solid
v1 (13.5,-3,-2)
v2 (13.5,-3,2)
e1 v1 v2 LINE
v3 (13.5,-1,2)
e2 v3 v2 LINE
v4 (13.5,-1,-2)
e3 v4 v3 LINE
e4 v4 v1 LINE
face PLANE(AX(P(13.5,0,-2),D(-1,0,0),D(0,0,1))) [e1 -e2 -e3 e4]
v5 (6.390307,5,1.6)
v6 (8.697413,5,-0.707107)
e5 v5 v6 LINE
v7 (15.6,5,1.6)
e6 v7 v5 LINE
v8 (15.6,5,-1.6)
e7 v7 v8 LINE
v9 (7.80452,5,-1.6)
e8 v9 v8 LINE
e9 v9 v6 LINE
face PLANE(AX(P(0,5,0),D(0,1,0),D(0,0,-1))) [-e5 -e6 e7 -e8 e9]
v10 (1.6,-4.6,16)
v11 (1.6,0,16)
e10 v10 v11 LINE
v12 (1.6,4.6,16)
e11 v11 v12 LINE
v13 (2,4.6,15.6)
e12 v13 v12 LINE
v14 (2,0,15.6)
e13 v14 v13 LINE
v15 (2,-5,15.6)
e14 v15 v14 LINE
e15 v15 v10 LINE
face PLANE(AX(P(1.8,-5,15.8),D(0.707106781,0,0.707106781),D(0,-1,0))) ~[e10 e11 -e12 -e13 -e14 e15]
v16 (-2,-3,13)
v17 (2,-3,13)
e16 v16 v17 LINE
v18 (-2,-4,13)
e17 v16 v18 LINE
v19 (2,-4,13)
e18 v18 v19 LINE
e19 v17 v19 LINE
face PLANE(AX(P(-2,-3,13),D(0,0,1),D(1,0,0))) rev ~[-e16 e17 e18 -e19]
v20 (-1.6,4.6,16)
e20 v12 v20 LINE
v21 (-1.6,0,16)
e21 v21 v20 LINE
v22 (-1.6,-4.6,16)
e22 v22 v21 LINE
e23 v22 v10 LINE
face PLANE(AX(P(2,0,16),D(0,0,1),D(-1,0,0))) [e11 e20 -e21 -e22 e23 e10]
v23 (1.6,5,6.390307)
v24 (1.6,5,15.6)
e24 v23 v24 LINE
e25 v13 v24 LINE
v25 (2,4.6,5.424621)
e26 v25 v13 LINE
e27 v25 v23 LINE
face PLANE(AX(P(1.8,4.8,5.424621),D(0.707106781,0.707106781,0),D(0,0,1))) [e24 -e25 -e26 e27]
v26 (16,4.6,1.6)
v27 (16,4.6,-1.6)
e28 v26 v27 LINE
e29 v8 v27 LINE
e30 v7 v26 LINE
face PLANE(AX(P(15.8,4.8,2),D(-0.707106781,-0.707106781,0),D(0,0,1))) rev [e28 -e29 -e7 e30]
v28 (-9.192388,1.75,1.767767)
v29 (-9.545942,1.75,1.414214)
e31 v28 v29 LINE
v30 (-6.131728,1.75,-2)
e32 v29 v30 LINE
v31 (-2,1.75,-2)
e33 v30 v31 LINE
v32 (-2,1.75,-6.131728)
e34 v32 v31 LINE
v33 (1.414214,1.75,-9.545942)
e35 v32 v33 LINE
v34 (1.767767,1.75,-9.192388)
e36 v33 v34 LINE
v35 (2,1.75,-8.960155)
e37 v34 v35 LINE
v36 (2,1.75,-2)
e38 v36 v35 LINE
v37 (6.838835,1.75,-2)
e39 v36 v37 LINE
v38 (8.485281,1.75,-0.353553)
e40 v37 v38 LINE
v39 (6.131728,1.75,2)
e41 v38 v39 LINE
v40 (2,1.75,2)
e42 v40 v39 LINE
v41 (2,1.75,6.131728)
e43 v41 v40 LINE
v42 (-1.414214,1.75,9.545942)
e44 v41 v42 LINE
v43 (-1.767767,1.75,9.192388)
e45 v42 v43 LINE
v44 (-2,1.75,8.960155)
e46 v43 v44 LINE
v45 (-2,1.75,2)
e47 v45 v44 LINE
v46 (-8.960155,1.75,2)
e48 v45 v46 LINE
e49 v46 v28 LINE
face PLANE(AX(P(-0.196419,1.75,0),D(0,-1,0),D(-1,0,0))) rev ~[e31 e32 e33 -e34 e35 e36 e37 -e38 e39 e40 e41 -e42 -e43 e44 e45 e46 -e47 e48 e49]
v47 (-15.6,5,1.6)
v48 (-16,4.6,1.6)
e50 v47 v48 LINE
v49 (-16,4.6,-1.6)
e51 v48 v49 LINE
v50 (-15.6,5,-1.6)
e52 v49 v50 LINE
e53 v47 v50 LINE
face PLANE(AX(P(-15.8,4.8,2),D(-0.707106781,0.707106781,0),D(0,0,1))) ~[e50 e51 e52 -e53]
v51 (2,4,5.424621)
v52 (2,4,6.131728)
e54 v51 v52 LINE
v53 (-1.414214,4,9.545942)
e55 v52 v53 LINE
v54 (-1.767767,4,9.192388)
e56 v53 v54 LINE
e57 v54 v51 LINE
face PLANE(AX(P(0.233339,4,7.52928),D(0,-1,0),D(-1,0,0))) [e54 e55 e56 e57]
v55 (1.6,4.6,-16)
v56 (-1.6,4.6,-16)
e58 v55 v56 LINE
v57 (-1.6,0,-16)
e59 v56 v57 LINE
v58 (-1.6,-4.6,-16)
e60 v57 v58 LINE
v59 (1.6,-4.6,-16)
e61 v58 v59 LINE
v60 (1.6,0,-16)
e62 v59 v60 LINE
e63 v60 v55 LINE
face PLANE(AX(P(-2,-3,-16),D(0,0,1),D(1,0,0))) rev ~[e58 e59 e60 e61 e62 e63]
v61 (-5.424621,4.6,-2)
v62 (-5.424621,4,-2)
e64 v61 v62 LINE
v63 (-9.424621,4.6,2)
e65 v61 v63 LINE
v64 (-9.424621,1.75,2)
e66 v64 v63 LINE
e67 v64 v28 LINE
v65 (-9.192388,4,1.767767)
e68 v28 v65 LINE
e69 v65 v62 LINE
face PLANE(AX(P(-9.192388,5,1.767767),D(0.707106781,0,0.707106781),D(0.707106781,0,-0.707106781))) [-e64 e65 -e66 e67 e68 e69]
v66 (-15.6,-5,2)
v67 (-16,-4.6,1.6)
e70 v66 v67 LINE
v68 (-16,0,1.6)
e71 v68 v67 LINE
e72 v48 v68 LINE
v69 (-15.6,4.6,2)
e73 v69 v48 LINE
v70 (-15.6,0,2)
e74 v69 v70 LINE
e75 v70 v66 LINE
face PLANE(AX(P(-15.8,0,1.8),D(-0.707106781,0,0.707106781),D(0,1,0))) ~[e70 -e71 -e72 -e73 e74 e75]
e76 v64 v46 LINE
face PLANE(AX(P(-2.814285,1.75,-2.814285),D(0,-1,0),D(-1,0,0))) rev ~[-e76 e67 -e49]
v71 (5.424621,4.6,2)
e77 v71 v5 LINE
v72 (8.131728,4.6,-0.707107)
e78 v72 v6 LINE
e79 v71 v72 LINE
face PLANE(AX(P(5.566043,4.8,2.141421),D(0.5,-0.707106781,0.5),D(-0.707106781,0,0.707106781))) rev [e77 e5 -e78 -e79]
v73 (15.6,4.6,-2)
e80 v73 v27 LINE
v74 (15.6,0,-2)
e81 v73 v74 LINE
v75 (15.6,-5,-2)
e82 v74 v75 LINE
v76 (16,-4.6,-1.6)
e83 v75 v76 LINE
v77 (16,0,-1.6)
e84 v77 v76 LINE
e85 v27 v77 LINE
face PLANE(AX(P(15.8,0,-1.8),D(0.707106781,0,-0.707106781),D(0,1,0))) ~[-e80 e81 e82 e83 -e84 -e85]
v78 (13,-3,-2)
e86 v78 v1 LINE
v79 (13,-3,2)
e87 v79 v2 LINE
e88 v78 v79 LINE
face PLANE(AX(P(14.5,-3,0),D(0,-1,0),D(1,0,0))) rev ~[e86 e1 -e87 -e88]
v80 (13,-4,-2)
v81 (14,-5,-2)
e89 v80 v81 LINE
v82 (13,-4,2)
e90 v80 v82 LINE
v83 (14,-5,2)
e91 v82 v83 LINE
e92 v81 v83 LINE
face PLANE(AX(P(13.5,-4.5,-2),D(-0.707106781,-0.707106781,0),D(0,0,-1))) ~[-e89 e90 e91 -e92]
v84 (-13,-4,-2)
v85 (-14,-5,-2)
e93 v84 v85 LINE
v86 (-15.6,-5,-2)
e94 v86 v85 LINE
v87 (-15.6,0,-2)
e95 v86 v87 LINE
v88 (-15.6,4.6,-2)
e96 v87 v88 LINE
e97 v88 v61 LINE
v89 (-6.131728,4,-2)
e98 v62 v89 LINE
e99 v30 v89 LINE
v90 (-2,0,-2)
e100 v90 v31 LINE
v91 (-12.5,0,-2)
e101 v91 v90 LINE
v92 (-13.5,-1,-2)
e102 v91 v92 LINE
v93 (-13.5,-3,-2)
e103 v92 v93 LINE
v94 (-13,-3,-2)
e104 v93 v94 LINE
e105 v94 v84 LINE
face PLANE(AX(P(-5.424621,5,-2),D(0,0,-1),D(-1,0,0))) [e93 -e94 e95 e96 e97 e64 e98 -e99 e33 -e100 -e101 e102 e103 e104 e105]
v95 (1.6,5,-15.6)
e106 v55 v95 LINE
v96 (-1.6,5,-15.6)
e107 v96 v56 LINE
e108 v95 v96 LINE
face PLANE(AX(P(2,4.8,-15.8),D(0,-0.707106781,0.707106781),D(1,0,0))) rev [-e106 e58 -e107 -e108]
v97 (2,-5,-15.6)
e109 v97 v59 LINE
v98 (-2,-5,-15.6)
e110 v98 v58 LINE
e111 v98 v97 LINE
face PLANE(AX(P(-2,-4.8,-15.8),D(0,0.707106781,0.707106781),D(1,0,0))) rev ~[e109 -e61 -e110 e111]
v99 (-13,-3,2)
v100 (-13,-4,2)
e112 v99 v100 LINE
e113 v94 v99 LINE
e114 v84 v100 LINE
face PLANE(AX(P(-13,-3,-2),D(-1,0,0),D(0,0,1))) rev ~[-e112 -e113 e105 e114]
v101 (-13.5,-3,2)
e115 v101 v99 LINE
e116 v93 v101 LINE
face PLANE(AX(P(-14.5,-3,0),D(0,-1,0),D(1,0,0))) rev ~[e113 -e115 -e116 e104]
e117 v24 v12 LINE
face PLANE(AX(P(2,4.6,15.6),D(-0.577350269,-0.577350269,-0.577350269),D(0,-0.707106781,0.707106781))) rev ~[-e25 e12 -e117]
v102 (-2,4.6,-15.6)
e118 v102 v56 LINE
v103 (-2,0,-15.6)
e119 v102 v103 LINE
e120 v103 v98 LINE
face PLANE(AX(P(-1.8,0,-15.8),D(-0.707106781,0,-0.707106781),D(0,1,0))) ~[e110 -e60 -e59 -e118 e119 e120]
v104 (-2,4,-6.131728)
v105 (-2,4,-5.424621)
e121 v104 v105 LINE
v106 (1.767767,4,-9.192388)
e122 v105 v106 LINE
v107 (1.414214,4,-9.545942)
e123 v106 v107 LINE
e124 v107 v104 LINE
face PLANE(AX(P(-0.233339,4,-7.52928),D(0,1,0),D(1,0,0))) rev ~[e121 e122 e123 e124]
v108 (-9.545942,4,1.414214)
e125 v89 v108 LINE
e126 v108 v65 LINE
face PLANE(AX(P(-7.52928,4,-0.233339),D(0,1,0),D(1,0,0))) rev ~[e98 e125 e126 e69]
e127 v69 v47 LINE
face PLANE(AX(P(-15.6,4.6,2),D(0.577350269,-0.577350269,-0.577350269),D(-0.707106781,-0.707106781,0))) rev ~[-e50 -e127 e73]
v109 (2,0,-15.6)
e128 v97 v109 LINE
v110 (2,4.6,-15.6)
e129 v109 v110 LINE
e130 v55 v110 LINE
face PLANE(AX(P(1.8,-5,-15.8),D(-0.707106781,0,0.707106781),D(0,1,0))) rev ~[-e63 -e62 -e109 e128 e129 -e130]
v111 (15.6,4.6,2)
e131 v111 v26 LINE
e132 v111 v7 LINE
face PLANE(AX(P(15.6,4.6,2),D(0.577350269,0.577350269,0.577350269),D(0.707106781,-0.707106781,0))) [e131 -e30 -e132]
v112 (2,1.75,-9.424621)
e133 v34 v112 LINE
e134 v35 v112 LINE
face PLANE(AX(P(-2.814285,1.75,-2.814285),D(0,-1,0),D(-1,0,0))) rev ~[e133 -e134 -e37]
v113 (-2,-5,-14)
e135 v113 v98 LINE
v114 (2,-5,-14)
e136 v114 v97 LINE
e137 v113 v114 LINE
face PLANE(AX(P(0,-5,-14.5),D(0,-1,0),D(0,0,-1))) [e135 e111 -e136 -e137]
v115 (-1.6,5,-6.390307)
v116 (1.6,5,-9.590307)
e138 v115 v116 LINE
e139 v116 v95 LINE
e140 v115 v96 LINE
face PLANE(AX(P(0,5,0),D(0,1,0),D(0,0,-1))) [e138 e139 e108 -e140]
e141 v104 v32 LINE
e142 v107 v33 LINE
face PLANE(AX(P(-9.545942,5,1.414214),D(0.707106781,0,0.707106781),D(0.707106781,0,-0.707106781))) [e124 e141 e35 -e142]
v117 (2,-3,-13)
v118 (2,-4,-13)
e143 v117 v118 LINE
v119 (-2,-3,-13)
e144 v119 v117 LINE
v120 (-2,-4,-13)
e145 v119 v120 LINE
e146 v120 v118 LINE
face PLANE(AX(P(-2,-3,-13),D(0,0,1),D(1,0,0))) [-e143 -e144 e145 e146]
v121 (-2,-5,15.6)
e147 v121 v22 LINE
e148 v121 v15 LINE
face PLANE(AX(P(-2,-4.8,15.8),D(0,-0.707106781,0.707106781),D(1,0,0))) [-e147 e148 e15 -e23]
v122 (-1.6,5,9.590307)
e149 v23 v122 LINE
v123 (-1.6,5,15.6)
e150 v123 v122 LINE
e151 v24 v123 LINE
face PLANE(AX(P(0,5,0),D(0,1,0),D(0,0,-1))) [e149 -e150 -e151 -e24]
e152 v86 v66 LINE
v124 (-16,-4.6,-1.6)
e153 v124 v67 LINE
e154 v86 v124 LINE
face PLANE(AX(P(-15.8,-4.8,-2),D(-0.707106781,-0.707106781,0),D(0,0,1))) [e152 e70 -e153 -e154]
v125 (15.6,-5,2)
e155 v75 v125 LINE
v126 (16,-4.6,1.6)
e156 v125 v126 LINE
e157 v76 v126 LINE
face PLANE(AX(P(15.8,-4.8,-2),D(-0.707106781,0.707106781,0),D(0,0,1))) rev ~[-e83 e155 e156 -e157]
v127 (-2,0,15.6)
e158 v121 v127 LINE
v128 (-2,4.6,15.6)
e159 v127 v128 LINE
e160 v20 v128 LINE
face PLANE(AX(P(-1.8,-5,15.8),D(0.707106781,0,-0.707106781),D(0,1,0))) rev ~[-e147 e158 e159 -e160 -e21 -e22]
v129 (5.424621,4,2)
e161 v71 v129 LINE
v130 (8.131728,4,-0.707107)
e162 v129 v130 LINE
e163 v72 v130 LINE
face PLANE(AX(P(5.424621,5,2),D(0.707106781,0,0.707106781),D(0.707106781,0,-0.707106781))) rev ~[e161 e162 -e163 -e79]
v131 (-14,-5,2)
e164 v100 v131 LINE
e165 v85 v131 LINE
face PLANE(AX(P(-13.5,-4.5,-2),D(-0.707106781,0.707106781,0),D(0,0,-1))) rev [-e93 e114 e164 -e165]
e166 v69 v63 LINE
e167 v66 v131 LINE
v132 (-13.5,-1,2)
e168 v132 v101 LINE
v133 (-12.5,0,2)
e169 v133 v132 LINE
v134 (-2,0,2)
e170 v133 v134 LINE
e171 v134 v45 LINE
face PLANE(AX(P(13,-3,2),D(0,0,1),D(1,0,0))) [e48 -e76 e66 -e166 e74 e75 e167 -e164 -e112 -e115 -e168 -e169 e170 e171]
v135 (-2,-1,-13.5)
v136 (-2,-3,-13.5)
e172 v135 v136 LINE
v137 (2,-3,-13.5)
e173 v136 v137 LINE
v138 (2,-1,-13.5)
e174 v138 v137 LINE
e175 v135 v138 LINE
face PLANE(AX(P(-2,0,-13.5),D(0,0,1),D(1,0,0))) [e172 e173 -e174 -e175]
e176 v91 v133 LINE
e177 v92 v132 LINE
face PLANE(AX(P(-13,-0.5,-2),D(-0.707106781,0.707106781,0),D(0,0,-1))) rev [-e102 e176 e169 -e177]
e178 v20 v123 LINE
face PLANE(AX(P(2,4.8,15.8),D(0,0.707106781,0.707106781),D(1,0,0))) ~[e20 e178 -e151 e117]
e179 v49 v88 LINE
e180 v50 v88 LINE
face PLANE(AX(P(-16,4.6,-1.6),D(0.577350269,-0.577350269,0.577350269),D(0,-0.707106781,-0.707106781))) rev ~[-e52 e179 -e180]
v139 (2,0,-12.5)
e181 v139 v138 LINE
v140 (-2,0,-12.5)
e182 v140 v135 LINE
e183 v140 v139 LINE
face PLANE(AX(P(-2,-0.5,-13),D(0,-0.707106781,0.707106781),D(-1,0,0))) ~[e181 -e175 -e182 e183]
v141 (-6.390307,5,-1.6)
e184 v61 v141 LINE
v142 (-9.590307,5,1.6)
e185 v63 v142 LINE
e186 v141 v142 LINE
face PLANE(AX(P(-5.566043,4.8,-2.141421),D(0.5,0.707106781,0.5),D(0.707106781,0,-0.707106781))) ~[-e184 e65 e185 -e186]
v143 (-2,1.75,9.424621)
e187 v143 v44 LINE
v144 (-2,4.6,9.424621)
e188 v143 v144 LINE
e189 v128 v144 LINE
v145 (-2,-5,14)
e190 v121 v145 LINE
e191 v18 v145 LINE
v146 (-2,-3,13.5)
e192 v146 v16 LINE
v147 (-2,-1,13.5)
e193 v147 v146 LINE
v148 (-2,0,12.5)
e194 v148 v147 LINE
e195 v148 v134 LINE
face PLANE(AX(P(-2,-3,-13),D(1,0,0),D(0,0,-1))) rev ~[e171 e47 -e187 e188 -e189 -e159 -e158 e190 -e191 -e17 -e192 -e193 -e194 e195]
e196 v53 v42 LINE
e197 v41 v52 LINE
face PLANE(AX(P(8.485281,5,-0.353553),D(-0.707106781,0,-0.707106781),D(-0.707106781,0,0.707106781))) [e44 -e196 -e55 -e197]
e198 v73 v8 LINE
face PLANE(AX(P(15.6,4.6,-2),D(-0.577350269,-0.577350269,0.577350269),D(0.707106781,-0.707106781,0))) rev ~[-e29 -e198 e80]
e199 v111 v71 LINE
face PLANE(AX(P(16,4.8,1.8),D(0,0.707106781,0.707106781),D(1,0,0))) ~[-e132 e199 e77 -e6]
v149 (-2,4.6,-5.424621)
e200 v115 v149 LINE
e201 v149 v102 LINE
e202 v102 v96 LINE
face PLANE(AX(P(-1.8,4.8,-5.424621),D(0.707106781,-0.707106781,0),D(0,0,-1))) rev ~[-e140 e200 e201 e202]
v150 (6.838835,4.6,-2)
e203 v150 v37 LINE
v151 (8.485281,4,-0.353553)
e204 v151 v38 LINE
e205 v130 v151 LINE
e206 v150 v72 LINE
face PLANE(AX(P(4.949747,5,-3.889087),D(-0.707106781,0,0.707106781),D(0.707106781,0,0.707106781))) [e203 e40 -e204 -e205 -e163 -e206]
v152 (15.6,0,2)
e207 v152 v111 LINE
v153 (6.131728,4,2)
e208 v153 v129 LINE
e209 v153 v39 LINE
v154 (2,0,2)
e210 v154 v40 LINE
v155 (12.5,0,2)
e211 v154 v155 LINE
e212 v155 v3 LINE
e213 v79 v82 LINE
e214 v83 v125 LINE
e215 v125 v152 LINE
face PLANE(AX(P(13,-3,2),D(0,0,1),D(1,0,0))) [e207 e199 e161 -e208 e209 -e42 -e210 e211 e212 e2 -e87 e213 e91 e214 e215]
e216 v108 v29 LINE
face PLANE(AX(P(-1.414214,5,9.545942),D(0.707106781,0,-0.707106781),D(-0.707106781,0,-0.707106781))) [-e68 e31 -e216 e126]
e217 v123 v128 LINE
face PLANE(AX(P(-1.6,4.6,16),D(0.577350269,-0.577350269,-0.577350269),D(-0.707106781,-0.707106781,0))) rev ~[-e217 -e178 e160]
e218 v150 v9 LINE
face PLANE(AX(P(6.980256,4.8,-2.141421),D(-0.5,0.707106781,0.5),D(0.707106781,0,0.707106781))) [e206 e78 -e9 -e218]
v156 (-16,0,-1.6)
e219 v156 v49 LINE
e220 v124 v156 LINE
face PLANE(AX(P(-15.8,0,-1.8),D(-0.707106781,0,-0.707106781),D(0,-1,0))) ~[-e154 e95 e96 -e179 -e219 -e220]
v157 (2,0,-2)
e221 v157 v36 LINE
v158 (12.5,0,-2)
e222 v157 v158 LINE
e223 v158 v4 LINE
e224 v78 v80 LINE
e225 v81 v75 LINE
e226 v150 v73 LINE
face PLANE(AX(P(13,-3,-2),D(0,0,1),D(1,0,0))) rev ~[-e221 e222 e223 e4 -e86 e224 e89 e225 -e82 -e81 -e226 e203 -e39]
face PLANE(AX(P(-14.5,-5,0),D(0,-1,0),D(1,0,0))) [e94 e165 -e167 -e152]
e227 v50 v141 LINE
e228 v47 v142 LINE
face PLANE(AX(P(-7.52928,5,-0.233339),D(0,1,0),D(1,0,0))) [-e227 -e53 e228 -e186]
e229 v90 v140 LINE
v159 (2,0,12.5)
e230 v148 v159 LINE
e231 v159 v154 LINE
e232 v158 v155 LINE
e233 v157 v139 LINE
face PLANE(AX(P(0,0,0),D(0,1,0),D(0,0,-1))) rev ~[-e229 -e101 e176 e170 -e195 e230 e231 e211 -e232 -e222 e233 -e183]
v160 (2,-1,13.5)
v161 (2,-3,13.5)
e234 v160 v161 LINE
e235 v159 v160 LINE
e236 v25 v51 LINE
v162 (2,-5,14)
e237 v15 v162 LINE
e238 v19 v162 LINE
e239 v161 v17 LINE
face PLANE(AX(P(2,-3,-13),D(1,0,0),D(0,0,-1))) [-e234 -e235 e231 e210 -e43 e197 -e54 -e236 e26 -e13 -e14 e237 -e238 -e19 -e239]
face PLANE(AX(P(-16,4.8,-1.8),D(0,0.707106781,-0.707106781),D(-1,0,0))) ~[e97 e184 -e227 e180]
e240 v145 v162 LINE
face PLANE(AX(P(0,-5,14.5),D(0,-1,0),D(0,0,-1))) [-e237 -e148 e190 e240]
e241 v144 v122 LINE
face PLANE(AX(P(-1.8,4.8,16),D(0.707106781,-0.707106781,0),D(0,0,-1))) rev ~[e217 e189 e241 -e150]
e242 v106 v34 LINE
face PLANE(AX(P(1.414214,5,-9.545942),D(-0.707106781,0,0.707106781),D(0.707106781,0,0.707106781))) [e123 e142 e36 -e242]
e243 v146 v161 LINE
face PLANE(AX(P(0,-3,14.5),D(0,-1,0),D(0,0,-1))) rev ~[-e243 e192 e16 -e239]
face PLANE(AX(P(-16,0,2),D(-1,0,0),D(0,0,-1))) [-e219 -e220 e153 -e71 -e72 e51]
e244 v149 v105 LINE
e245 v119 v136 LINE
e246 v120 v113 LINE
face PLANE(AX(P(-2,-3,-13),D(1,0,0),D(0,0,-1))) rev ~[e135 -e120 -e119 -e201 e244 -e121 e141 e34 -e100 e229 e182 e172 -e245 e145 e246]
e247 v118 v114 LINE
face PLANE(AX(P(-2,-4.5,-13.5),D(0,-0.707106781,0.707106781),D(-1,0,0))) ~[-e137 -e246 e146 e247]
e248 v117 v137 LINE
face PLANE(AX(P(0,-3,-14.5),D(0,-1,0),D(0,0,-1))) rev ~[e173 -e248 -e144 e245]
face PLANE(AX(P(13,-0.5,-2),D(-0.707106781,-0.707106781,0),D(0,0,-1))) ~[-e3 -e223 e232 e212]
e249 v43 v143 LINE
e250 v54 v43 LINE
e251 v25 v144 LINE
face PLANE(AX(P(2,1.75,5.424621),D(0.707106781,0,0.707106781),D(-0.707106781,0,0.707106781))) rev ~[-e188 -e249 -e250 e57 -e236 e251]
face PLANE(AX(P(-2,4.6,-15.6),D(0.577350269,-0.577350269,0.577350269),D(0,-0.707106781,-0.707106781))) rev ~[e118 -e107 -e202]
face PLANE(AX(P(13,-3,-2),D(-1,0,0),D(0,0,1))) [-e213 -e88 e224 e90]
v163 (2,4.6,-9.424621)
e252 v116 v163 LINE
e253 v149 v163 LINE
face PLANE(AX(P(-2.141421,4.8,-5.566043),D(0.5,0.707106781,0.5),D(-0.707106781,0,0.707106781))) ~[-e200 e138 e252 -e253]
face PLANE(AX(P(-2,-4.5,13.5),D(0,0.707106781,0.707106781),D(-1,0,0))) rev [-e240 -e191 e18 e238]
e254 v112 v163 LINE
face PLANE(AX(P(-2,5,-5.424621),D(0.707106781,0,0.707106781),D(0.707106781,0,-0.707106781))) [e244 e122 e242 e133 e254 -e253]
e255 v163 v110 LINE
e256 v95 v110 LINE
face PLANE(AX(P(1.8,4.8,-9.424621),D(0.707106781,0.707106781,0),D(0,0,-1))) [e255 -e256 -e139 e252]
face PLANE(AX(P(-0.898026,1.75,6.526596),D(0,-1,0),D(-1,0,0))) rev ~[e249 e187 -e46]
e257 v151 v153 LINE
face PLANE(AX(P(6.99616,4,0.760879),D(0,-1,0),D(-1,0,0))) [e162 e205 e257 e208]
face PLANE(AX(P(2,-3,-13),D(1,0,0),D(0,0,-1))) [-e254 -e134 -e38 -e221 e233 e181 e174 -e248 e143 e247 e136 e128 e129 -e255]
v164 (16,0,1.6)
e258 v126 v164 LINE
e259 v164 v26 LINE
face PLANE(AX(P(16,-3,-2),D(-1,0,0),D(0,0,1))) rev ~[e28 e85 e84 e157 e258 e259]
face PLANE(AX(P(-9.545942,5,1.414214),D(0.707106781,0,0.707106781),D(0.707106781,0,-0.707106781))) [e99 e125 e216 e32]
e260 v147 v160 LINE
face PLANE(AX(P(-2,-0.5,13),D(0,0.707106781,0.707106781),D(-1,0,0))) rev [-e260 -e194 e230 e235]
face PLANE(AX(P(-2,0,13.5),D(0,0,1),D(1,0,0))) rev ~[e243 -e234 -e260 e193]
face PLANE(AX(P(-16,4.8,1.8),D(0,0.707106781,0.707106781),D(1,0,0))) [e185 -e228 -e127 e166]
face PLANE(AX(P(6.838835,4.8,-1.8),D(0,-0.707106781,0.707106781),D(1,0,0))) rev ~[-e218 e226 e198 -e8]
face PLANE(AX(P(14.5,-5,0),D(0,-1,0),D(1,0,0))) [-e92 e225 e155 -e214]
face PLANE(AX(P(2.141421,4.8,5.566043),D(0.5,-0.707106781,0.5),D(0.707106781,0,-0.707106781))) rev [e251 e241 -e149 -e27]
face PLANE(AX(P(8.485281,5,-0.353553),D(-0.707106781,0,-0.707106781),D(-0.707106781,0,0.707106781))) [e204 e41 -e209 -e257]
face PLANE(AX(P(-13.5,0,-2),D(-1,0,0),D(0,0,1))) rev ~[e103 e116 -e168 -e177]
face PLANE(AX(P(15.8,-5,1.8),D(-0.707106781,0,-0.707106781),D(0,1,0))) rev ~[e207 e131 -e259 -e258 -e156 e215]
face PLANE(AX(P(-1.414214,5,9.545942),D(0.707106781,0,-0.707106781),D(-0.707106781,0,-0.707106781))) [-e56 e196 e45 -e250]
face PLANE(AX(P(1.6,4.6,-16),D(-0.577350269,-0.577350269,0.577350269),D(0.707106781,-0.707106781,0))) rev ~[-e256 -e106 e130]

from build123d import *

# Parameters (mm, degrees)
SKETCH1_W               = 31.999999976
SKETCH1_H               = 4
BOSS_EXTRUDE1_DEPTH     = 5
SKETCH2_W               = 2.499999921
SKETCH2_H               = 4
BOSS_EXTRUDE2_DEPTH     = 3
SKETCH3_W               = 2.999999921
SKETCH3_H               = 4
BOSS_EXTRUDE3_DEPTH     = 2
CIRPATTERN1_COUNT       = 2
CIRPATTERN1_ANGLE       = 90
CUT_EXTRUDE1_DEPTH      = 3.250000112
BOSS_EXTRUDE4_DEPTH     = 1
CUT_EXTRUDE_THIN1_START = -3.25
CUT_EXTRUDE_THIN1_DEPTH = 3.25
CUT_EXTRUDE_THIN2_START = -3.25
CUT_EXTRUDE_THIN2_DEPTH = 3.25
CHAMFER2_SIZE           = 1
CHAMFER3_SIZE           = 0.4


with BuildPart() as part:
    # Sketch1 → Boss-Extrude1 (new body)
    with BuildSketch(Plane(origin=(0, 0, 0), x_dir=(1, 0, 0), z_dir=(0, 1, 0))):
        Rectangle(SKETCH1_W, SKETCH1_H)
    extrude(amount=BOSS_EXTRUDE1_DEPTH)

    # Sketch2 → Boss-Extrude2 (add)
    with BuildSketch(Plane.XZ):
        with Locations((14.750000028, 0)):
            Rectangle(SKETCH2_W, SKETCH2_H)
        with Locations((-14.750000028, 0)):
            Rectangle(SKETCH2_W, SKETCH2_H)
    extrude(amount=BOSS_EXTRUDE2_DEPTH)

    # Sketch3 → Boss-Extrude3 (add)
    with BuildSketch(Plane.XZ.offset(3)):
        with Locations((14.500000028, 0)):
            Rectangle(SKETCH3_W, SKETCH3_H)
        with Locations((-14.500000028, 0)):
            Rectangle(SKETCH3_W, SKETCH3_H)
    extrude(amount=BOSS_EXTRUDE3_DEPTH)

    # CirPattern1: part ×2 about axis
    cirpattern1_axis = Axis((0, 0, 0), (0, 1, 0))


with BuildPart() as part_1:
    add(part.part)
    for i in range(1, CIRPATTERN1_COUNT):
        add(part.part.rotate(cirpattern1_axis, i * CIRPATTERN1_ANGLE / (CIRPATTERN1_COUNT - 1)))

    # Sketch6 → Cut-Extrude1 (cut)
    with BuildSketch(Plane(origin=(0, 5, 0), x_dir=(1, 0, 0), z_dir=(0, 1, 0))):
        Polygon((-1.414213562, -9.545941546), (-9.545941546, -1.414213562), (1.414213562, 9.545941546), (6.01040764, 4.949747468), (4.949747468, 3.889087297), (8.485281374, 0.353553391), align=None)
    extrude(amount=-CUT_EXTRUDE1_DEPTH, mode=Mode.SUBTRACT)

    # Sketch7 → Boss-Extrude4 (add)
    with BuildSketch(Plane(origin=(0, 5, 0), x_dir=(1, 0, 0), z_dir=(0, 1, 0))):
        Polygon((-9.545941546, -1.414213562), (-9.192388155, -1.767766953), (-5.424621202, 2), (-6.131727984, 2), align=None)
        Polygon((1.767766953, 9.192388155), (1.414213562, 9.545941546), (-2, 6.131727984), (-2, 5.424621202), align=None)
        Polygon((8.131727984, 0.707106781), (8.485281374, 0.353553391), (6.131727984, -2), (5.424621202, -2), align=None)
        Polygon((2, -5.424621202), (2, -6.131727984), (-1.414213562, -9.545941546), (-1.767766953, -9.192388155), align=None)
    extrude(amount=-BOSS_EXTRUDE4_DEPTH)

    # Sketch8 → Cut-Extrude-Thin1 (cut)
    with BuildSketch(Plane(origin=(0, 5, 0), x_dir=(1, 0, 0), z_dir=(0, 1, 0)).offset(CUT_EXTRUDE_THIN1_START)):
        Polygon((-9.424621202, -2), (2, 9.424621202), (3.796051224, 7.628569978), (-7.628569978, -3.796051224), align=None)
    extrude(amount=CUT_EXTRUDE_THIN1_DEPTH, mode=Mode.SUBTRACT)

    # Sketch9 → Cut-Extrude-Thin2 (cut)
    with BuildSketch(Plane(origin=(0, 5, 0), x_dir=(1, 0, 0), z_dir=(0, 1, 0)).offset(CUT_EXTRUDE_THIN2_START)):
        Polygon((2, -5.424621202), (-2, -9.424621202), (-3.796051224, -7.628569978), (0.203948776, -3.628569978), align=None)
    extrude(amount=CUT_EXTRUDE_THIN2_DEPTH, mode=Mode.SUBTRACT)

    # Chamfer2
    chamfer2_edges = [part_1.edges().sort_by_distance(p)[0] for p in [
        (0, 0, 13.500000067),
        (0, -5, -13.000000067),
        (0, -5, 13.000000067),
        (13.500000067, 0, 0),
        (-13.500000067, 0, 0),
        (13.000000067, -5, 0),
        (-13.000000067, -5, 0),
        (0, 0, -13.500000067),
    ]]
    chamfer(chamfer2_edges, length=CHAMFER2_SIZE)

    # Chamfer3
    chamfer3_edges = [part_1.edges().sort_by_distance(p)[0] for p in [
        (15.999999988, 5, 0),
        (0, -5, -15.999999988),
        (0, -5, 15.999999988),
        (11.419417376, 5, -2),
        (10.712310595, 5, 2),
        (-10.712310595, 5, -2),
        (-7.424621202, 5, 0),
        (0, 5, -7.424621202),
        (7.485281374, 5, -1.353553391),
        (6.778174593, 5, 0.646446609),
        (0, 5, 7.424621202),
        (2, 5, -12.712310595),
        (-2, 5, 12.712310595),
        (15.999999988, -5, 0),
        (-15.999999988, 5, 0),
        (-15.999999988, -5, 0),
        (-12.712310595, 5, 2),
        (0, 5, 15.999999988),
        (2, 5, 10.712310595),
        (0, 5, -15.999999988),
        (-2, 5, -10.712310595),
        (2, 0, 15.999999988),
        (-2, 0, -15.999999988),
        (-15.999999988, 0, -2),
        (-2, 0, 15.999999988),
        (2, 0, -15.999999988),
        (15.999999988, 0, -2),
        (15.999999988, 0, 2),
        (-15.999999988, 0, 2),
    ]]
    chamfer(chamfer3_edges, length=CHAMFER3_SIZE)


solid = part_1.part
